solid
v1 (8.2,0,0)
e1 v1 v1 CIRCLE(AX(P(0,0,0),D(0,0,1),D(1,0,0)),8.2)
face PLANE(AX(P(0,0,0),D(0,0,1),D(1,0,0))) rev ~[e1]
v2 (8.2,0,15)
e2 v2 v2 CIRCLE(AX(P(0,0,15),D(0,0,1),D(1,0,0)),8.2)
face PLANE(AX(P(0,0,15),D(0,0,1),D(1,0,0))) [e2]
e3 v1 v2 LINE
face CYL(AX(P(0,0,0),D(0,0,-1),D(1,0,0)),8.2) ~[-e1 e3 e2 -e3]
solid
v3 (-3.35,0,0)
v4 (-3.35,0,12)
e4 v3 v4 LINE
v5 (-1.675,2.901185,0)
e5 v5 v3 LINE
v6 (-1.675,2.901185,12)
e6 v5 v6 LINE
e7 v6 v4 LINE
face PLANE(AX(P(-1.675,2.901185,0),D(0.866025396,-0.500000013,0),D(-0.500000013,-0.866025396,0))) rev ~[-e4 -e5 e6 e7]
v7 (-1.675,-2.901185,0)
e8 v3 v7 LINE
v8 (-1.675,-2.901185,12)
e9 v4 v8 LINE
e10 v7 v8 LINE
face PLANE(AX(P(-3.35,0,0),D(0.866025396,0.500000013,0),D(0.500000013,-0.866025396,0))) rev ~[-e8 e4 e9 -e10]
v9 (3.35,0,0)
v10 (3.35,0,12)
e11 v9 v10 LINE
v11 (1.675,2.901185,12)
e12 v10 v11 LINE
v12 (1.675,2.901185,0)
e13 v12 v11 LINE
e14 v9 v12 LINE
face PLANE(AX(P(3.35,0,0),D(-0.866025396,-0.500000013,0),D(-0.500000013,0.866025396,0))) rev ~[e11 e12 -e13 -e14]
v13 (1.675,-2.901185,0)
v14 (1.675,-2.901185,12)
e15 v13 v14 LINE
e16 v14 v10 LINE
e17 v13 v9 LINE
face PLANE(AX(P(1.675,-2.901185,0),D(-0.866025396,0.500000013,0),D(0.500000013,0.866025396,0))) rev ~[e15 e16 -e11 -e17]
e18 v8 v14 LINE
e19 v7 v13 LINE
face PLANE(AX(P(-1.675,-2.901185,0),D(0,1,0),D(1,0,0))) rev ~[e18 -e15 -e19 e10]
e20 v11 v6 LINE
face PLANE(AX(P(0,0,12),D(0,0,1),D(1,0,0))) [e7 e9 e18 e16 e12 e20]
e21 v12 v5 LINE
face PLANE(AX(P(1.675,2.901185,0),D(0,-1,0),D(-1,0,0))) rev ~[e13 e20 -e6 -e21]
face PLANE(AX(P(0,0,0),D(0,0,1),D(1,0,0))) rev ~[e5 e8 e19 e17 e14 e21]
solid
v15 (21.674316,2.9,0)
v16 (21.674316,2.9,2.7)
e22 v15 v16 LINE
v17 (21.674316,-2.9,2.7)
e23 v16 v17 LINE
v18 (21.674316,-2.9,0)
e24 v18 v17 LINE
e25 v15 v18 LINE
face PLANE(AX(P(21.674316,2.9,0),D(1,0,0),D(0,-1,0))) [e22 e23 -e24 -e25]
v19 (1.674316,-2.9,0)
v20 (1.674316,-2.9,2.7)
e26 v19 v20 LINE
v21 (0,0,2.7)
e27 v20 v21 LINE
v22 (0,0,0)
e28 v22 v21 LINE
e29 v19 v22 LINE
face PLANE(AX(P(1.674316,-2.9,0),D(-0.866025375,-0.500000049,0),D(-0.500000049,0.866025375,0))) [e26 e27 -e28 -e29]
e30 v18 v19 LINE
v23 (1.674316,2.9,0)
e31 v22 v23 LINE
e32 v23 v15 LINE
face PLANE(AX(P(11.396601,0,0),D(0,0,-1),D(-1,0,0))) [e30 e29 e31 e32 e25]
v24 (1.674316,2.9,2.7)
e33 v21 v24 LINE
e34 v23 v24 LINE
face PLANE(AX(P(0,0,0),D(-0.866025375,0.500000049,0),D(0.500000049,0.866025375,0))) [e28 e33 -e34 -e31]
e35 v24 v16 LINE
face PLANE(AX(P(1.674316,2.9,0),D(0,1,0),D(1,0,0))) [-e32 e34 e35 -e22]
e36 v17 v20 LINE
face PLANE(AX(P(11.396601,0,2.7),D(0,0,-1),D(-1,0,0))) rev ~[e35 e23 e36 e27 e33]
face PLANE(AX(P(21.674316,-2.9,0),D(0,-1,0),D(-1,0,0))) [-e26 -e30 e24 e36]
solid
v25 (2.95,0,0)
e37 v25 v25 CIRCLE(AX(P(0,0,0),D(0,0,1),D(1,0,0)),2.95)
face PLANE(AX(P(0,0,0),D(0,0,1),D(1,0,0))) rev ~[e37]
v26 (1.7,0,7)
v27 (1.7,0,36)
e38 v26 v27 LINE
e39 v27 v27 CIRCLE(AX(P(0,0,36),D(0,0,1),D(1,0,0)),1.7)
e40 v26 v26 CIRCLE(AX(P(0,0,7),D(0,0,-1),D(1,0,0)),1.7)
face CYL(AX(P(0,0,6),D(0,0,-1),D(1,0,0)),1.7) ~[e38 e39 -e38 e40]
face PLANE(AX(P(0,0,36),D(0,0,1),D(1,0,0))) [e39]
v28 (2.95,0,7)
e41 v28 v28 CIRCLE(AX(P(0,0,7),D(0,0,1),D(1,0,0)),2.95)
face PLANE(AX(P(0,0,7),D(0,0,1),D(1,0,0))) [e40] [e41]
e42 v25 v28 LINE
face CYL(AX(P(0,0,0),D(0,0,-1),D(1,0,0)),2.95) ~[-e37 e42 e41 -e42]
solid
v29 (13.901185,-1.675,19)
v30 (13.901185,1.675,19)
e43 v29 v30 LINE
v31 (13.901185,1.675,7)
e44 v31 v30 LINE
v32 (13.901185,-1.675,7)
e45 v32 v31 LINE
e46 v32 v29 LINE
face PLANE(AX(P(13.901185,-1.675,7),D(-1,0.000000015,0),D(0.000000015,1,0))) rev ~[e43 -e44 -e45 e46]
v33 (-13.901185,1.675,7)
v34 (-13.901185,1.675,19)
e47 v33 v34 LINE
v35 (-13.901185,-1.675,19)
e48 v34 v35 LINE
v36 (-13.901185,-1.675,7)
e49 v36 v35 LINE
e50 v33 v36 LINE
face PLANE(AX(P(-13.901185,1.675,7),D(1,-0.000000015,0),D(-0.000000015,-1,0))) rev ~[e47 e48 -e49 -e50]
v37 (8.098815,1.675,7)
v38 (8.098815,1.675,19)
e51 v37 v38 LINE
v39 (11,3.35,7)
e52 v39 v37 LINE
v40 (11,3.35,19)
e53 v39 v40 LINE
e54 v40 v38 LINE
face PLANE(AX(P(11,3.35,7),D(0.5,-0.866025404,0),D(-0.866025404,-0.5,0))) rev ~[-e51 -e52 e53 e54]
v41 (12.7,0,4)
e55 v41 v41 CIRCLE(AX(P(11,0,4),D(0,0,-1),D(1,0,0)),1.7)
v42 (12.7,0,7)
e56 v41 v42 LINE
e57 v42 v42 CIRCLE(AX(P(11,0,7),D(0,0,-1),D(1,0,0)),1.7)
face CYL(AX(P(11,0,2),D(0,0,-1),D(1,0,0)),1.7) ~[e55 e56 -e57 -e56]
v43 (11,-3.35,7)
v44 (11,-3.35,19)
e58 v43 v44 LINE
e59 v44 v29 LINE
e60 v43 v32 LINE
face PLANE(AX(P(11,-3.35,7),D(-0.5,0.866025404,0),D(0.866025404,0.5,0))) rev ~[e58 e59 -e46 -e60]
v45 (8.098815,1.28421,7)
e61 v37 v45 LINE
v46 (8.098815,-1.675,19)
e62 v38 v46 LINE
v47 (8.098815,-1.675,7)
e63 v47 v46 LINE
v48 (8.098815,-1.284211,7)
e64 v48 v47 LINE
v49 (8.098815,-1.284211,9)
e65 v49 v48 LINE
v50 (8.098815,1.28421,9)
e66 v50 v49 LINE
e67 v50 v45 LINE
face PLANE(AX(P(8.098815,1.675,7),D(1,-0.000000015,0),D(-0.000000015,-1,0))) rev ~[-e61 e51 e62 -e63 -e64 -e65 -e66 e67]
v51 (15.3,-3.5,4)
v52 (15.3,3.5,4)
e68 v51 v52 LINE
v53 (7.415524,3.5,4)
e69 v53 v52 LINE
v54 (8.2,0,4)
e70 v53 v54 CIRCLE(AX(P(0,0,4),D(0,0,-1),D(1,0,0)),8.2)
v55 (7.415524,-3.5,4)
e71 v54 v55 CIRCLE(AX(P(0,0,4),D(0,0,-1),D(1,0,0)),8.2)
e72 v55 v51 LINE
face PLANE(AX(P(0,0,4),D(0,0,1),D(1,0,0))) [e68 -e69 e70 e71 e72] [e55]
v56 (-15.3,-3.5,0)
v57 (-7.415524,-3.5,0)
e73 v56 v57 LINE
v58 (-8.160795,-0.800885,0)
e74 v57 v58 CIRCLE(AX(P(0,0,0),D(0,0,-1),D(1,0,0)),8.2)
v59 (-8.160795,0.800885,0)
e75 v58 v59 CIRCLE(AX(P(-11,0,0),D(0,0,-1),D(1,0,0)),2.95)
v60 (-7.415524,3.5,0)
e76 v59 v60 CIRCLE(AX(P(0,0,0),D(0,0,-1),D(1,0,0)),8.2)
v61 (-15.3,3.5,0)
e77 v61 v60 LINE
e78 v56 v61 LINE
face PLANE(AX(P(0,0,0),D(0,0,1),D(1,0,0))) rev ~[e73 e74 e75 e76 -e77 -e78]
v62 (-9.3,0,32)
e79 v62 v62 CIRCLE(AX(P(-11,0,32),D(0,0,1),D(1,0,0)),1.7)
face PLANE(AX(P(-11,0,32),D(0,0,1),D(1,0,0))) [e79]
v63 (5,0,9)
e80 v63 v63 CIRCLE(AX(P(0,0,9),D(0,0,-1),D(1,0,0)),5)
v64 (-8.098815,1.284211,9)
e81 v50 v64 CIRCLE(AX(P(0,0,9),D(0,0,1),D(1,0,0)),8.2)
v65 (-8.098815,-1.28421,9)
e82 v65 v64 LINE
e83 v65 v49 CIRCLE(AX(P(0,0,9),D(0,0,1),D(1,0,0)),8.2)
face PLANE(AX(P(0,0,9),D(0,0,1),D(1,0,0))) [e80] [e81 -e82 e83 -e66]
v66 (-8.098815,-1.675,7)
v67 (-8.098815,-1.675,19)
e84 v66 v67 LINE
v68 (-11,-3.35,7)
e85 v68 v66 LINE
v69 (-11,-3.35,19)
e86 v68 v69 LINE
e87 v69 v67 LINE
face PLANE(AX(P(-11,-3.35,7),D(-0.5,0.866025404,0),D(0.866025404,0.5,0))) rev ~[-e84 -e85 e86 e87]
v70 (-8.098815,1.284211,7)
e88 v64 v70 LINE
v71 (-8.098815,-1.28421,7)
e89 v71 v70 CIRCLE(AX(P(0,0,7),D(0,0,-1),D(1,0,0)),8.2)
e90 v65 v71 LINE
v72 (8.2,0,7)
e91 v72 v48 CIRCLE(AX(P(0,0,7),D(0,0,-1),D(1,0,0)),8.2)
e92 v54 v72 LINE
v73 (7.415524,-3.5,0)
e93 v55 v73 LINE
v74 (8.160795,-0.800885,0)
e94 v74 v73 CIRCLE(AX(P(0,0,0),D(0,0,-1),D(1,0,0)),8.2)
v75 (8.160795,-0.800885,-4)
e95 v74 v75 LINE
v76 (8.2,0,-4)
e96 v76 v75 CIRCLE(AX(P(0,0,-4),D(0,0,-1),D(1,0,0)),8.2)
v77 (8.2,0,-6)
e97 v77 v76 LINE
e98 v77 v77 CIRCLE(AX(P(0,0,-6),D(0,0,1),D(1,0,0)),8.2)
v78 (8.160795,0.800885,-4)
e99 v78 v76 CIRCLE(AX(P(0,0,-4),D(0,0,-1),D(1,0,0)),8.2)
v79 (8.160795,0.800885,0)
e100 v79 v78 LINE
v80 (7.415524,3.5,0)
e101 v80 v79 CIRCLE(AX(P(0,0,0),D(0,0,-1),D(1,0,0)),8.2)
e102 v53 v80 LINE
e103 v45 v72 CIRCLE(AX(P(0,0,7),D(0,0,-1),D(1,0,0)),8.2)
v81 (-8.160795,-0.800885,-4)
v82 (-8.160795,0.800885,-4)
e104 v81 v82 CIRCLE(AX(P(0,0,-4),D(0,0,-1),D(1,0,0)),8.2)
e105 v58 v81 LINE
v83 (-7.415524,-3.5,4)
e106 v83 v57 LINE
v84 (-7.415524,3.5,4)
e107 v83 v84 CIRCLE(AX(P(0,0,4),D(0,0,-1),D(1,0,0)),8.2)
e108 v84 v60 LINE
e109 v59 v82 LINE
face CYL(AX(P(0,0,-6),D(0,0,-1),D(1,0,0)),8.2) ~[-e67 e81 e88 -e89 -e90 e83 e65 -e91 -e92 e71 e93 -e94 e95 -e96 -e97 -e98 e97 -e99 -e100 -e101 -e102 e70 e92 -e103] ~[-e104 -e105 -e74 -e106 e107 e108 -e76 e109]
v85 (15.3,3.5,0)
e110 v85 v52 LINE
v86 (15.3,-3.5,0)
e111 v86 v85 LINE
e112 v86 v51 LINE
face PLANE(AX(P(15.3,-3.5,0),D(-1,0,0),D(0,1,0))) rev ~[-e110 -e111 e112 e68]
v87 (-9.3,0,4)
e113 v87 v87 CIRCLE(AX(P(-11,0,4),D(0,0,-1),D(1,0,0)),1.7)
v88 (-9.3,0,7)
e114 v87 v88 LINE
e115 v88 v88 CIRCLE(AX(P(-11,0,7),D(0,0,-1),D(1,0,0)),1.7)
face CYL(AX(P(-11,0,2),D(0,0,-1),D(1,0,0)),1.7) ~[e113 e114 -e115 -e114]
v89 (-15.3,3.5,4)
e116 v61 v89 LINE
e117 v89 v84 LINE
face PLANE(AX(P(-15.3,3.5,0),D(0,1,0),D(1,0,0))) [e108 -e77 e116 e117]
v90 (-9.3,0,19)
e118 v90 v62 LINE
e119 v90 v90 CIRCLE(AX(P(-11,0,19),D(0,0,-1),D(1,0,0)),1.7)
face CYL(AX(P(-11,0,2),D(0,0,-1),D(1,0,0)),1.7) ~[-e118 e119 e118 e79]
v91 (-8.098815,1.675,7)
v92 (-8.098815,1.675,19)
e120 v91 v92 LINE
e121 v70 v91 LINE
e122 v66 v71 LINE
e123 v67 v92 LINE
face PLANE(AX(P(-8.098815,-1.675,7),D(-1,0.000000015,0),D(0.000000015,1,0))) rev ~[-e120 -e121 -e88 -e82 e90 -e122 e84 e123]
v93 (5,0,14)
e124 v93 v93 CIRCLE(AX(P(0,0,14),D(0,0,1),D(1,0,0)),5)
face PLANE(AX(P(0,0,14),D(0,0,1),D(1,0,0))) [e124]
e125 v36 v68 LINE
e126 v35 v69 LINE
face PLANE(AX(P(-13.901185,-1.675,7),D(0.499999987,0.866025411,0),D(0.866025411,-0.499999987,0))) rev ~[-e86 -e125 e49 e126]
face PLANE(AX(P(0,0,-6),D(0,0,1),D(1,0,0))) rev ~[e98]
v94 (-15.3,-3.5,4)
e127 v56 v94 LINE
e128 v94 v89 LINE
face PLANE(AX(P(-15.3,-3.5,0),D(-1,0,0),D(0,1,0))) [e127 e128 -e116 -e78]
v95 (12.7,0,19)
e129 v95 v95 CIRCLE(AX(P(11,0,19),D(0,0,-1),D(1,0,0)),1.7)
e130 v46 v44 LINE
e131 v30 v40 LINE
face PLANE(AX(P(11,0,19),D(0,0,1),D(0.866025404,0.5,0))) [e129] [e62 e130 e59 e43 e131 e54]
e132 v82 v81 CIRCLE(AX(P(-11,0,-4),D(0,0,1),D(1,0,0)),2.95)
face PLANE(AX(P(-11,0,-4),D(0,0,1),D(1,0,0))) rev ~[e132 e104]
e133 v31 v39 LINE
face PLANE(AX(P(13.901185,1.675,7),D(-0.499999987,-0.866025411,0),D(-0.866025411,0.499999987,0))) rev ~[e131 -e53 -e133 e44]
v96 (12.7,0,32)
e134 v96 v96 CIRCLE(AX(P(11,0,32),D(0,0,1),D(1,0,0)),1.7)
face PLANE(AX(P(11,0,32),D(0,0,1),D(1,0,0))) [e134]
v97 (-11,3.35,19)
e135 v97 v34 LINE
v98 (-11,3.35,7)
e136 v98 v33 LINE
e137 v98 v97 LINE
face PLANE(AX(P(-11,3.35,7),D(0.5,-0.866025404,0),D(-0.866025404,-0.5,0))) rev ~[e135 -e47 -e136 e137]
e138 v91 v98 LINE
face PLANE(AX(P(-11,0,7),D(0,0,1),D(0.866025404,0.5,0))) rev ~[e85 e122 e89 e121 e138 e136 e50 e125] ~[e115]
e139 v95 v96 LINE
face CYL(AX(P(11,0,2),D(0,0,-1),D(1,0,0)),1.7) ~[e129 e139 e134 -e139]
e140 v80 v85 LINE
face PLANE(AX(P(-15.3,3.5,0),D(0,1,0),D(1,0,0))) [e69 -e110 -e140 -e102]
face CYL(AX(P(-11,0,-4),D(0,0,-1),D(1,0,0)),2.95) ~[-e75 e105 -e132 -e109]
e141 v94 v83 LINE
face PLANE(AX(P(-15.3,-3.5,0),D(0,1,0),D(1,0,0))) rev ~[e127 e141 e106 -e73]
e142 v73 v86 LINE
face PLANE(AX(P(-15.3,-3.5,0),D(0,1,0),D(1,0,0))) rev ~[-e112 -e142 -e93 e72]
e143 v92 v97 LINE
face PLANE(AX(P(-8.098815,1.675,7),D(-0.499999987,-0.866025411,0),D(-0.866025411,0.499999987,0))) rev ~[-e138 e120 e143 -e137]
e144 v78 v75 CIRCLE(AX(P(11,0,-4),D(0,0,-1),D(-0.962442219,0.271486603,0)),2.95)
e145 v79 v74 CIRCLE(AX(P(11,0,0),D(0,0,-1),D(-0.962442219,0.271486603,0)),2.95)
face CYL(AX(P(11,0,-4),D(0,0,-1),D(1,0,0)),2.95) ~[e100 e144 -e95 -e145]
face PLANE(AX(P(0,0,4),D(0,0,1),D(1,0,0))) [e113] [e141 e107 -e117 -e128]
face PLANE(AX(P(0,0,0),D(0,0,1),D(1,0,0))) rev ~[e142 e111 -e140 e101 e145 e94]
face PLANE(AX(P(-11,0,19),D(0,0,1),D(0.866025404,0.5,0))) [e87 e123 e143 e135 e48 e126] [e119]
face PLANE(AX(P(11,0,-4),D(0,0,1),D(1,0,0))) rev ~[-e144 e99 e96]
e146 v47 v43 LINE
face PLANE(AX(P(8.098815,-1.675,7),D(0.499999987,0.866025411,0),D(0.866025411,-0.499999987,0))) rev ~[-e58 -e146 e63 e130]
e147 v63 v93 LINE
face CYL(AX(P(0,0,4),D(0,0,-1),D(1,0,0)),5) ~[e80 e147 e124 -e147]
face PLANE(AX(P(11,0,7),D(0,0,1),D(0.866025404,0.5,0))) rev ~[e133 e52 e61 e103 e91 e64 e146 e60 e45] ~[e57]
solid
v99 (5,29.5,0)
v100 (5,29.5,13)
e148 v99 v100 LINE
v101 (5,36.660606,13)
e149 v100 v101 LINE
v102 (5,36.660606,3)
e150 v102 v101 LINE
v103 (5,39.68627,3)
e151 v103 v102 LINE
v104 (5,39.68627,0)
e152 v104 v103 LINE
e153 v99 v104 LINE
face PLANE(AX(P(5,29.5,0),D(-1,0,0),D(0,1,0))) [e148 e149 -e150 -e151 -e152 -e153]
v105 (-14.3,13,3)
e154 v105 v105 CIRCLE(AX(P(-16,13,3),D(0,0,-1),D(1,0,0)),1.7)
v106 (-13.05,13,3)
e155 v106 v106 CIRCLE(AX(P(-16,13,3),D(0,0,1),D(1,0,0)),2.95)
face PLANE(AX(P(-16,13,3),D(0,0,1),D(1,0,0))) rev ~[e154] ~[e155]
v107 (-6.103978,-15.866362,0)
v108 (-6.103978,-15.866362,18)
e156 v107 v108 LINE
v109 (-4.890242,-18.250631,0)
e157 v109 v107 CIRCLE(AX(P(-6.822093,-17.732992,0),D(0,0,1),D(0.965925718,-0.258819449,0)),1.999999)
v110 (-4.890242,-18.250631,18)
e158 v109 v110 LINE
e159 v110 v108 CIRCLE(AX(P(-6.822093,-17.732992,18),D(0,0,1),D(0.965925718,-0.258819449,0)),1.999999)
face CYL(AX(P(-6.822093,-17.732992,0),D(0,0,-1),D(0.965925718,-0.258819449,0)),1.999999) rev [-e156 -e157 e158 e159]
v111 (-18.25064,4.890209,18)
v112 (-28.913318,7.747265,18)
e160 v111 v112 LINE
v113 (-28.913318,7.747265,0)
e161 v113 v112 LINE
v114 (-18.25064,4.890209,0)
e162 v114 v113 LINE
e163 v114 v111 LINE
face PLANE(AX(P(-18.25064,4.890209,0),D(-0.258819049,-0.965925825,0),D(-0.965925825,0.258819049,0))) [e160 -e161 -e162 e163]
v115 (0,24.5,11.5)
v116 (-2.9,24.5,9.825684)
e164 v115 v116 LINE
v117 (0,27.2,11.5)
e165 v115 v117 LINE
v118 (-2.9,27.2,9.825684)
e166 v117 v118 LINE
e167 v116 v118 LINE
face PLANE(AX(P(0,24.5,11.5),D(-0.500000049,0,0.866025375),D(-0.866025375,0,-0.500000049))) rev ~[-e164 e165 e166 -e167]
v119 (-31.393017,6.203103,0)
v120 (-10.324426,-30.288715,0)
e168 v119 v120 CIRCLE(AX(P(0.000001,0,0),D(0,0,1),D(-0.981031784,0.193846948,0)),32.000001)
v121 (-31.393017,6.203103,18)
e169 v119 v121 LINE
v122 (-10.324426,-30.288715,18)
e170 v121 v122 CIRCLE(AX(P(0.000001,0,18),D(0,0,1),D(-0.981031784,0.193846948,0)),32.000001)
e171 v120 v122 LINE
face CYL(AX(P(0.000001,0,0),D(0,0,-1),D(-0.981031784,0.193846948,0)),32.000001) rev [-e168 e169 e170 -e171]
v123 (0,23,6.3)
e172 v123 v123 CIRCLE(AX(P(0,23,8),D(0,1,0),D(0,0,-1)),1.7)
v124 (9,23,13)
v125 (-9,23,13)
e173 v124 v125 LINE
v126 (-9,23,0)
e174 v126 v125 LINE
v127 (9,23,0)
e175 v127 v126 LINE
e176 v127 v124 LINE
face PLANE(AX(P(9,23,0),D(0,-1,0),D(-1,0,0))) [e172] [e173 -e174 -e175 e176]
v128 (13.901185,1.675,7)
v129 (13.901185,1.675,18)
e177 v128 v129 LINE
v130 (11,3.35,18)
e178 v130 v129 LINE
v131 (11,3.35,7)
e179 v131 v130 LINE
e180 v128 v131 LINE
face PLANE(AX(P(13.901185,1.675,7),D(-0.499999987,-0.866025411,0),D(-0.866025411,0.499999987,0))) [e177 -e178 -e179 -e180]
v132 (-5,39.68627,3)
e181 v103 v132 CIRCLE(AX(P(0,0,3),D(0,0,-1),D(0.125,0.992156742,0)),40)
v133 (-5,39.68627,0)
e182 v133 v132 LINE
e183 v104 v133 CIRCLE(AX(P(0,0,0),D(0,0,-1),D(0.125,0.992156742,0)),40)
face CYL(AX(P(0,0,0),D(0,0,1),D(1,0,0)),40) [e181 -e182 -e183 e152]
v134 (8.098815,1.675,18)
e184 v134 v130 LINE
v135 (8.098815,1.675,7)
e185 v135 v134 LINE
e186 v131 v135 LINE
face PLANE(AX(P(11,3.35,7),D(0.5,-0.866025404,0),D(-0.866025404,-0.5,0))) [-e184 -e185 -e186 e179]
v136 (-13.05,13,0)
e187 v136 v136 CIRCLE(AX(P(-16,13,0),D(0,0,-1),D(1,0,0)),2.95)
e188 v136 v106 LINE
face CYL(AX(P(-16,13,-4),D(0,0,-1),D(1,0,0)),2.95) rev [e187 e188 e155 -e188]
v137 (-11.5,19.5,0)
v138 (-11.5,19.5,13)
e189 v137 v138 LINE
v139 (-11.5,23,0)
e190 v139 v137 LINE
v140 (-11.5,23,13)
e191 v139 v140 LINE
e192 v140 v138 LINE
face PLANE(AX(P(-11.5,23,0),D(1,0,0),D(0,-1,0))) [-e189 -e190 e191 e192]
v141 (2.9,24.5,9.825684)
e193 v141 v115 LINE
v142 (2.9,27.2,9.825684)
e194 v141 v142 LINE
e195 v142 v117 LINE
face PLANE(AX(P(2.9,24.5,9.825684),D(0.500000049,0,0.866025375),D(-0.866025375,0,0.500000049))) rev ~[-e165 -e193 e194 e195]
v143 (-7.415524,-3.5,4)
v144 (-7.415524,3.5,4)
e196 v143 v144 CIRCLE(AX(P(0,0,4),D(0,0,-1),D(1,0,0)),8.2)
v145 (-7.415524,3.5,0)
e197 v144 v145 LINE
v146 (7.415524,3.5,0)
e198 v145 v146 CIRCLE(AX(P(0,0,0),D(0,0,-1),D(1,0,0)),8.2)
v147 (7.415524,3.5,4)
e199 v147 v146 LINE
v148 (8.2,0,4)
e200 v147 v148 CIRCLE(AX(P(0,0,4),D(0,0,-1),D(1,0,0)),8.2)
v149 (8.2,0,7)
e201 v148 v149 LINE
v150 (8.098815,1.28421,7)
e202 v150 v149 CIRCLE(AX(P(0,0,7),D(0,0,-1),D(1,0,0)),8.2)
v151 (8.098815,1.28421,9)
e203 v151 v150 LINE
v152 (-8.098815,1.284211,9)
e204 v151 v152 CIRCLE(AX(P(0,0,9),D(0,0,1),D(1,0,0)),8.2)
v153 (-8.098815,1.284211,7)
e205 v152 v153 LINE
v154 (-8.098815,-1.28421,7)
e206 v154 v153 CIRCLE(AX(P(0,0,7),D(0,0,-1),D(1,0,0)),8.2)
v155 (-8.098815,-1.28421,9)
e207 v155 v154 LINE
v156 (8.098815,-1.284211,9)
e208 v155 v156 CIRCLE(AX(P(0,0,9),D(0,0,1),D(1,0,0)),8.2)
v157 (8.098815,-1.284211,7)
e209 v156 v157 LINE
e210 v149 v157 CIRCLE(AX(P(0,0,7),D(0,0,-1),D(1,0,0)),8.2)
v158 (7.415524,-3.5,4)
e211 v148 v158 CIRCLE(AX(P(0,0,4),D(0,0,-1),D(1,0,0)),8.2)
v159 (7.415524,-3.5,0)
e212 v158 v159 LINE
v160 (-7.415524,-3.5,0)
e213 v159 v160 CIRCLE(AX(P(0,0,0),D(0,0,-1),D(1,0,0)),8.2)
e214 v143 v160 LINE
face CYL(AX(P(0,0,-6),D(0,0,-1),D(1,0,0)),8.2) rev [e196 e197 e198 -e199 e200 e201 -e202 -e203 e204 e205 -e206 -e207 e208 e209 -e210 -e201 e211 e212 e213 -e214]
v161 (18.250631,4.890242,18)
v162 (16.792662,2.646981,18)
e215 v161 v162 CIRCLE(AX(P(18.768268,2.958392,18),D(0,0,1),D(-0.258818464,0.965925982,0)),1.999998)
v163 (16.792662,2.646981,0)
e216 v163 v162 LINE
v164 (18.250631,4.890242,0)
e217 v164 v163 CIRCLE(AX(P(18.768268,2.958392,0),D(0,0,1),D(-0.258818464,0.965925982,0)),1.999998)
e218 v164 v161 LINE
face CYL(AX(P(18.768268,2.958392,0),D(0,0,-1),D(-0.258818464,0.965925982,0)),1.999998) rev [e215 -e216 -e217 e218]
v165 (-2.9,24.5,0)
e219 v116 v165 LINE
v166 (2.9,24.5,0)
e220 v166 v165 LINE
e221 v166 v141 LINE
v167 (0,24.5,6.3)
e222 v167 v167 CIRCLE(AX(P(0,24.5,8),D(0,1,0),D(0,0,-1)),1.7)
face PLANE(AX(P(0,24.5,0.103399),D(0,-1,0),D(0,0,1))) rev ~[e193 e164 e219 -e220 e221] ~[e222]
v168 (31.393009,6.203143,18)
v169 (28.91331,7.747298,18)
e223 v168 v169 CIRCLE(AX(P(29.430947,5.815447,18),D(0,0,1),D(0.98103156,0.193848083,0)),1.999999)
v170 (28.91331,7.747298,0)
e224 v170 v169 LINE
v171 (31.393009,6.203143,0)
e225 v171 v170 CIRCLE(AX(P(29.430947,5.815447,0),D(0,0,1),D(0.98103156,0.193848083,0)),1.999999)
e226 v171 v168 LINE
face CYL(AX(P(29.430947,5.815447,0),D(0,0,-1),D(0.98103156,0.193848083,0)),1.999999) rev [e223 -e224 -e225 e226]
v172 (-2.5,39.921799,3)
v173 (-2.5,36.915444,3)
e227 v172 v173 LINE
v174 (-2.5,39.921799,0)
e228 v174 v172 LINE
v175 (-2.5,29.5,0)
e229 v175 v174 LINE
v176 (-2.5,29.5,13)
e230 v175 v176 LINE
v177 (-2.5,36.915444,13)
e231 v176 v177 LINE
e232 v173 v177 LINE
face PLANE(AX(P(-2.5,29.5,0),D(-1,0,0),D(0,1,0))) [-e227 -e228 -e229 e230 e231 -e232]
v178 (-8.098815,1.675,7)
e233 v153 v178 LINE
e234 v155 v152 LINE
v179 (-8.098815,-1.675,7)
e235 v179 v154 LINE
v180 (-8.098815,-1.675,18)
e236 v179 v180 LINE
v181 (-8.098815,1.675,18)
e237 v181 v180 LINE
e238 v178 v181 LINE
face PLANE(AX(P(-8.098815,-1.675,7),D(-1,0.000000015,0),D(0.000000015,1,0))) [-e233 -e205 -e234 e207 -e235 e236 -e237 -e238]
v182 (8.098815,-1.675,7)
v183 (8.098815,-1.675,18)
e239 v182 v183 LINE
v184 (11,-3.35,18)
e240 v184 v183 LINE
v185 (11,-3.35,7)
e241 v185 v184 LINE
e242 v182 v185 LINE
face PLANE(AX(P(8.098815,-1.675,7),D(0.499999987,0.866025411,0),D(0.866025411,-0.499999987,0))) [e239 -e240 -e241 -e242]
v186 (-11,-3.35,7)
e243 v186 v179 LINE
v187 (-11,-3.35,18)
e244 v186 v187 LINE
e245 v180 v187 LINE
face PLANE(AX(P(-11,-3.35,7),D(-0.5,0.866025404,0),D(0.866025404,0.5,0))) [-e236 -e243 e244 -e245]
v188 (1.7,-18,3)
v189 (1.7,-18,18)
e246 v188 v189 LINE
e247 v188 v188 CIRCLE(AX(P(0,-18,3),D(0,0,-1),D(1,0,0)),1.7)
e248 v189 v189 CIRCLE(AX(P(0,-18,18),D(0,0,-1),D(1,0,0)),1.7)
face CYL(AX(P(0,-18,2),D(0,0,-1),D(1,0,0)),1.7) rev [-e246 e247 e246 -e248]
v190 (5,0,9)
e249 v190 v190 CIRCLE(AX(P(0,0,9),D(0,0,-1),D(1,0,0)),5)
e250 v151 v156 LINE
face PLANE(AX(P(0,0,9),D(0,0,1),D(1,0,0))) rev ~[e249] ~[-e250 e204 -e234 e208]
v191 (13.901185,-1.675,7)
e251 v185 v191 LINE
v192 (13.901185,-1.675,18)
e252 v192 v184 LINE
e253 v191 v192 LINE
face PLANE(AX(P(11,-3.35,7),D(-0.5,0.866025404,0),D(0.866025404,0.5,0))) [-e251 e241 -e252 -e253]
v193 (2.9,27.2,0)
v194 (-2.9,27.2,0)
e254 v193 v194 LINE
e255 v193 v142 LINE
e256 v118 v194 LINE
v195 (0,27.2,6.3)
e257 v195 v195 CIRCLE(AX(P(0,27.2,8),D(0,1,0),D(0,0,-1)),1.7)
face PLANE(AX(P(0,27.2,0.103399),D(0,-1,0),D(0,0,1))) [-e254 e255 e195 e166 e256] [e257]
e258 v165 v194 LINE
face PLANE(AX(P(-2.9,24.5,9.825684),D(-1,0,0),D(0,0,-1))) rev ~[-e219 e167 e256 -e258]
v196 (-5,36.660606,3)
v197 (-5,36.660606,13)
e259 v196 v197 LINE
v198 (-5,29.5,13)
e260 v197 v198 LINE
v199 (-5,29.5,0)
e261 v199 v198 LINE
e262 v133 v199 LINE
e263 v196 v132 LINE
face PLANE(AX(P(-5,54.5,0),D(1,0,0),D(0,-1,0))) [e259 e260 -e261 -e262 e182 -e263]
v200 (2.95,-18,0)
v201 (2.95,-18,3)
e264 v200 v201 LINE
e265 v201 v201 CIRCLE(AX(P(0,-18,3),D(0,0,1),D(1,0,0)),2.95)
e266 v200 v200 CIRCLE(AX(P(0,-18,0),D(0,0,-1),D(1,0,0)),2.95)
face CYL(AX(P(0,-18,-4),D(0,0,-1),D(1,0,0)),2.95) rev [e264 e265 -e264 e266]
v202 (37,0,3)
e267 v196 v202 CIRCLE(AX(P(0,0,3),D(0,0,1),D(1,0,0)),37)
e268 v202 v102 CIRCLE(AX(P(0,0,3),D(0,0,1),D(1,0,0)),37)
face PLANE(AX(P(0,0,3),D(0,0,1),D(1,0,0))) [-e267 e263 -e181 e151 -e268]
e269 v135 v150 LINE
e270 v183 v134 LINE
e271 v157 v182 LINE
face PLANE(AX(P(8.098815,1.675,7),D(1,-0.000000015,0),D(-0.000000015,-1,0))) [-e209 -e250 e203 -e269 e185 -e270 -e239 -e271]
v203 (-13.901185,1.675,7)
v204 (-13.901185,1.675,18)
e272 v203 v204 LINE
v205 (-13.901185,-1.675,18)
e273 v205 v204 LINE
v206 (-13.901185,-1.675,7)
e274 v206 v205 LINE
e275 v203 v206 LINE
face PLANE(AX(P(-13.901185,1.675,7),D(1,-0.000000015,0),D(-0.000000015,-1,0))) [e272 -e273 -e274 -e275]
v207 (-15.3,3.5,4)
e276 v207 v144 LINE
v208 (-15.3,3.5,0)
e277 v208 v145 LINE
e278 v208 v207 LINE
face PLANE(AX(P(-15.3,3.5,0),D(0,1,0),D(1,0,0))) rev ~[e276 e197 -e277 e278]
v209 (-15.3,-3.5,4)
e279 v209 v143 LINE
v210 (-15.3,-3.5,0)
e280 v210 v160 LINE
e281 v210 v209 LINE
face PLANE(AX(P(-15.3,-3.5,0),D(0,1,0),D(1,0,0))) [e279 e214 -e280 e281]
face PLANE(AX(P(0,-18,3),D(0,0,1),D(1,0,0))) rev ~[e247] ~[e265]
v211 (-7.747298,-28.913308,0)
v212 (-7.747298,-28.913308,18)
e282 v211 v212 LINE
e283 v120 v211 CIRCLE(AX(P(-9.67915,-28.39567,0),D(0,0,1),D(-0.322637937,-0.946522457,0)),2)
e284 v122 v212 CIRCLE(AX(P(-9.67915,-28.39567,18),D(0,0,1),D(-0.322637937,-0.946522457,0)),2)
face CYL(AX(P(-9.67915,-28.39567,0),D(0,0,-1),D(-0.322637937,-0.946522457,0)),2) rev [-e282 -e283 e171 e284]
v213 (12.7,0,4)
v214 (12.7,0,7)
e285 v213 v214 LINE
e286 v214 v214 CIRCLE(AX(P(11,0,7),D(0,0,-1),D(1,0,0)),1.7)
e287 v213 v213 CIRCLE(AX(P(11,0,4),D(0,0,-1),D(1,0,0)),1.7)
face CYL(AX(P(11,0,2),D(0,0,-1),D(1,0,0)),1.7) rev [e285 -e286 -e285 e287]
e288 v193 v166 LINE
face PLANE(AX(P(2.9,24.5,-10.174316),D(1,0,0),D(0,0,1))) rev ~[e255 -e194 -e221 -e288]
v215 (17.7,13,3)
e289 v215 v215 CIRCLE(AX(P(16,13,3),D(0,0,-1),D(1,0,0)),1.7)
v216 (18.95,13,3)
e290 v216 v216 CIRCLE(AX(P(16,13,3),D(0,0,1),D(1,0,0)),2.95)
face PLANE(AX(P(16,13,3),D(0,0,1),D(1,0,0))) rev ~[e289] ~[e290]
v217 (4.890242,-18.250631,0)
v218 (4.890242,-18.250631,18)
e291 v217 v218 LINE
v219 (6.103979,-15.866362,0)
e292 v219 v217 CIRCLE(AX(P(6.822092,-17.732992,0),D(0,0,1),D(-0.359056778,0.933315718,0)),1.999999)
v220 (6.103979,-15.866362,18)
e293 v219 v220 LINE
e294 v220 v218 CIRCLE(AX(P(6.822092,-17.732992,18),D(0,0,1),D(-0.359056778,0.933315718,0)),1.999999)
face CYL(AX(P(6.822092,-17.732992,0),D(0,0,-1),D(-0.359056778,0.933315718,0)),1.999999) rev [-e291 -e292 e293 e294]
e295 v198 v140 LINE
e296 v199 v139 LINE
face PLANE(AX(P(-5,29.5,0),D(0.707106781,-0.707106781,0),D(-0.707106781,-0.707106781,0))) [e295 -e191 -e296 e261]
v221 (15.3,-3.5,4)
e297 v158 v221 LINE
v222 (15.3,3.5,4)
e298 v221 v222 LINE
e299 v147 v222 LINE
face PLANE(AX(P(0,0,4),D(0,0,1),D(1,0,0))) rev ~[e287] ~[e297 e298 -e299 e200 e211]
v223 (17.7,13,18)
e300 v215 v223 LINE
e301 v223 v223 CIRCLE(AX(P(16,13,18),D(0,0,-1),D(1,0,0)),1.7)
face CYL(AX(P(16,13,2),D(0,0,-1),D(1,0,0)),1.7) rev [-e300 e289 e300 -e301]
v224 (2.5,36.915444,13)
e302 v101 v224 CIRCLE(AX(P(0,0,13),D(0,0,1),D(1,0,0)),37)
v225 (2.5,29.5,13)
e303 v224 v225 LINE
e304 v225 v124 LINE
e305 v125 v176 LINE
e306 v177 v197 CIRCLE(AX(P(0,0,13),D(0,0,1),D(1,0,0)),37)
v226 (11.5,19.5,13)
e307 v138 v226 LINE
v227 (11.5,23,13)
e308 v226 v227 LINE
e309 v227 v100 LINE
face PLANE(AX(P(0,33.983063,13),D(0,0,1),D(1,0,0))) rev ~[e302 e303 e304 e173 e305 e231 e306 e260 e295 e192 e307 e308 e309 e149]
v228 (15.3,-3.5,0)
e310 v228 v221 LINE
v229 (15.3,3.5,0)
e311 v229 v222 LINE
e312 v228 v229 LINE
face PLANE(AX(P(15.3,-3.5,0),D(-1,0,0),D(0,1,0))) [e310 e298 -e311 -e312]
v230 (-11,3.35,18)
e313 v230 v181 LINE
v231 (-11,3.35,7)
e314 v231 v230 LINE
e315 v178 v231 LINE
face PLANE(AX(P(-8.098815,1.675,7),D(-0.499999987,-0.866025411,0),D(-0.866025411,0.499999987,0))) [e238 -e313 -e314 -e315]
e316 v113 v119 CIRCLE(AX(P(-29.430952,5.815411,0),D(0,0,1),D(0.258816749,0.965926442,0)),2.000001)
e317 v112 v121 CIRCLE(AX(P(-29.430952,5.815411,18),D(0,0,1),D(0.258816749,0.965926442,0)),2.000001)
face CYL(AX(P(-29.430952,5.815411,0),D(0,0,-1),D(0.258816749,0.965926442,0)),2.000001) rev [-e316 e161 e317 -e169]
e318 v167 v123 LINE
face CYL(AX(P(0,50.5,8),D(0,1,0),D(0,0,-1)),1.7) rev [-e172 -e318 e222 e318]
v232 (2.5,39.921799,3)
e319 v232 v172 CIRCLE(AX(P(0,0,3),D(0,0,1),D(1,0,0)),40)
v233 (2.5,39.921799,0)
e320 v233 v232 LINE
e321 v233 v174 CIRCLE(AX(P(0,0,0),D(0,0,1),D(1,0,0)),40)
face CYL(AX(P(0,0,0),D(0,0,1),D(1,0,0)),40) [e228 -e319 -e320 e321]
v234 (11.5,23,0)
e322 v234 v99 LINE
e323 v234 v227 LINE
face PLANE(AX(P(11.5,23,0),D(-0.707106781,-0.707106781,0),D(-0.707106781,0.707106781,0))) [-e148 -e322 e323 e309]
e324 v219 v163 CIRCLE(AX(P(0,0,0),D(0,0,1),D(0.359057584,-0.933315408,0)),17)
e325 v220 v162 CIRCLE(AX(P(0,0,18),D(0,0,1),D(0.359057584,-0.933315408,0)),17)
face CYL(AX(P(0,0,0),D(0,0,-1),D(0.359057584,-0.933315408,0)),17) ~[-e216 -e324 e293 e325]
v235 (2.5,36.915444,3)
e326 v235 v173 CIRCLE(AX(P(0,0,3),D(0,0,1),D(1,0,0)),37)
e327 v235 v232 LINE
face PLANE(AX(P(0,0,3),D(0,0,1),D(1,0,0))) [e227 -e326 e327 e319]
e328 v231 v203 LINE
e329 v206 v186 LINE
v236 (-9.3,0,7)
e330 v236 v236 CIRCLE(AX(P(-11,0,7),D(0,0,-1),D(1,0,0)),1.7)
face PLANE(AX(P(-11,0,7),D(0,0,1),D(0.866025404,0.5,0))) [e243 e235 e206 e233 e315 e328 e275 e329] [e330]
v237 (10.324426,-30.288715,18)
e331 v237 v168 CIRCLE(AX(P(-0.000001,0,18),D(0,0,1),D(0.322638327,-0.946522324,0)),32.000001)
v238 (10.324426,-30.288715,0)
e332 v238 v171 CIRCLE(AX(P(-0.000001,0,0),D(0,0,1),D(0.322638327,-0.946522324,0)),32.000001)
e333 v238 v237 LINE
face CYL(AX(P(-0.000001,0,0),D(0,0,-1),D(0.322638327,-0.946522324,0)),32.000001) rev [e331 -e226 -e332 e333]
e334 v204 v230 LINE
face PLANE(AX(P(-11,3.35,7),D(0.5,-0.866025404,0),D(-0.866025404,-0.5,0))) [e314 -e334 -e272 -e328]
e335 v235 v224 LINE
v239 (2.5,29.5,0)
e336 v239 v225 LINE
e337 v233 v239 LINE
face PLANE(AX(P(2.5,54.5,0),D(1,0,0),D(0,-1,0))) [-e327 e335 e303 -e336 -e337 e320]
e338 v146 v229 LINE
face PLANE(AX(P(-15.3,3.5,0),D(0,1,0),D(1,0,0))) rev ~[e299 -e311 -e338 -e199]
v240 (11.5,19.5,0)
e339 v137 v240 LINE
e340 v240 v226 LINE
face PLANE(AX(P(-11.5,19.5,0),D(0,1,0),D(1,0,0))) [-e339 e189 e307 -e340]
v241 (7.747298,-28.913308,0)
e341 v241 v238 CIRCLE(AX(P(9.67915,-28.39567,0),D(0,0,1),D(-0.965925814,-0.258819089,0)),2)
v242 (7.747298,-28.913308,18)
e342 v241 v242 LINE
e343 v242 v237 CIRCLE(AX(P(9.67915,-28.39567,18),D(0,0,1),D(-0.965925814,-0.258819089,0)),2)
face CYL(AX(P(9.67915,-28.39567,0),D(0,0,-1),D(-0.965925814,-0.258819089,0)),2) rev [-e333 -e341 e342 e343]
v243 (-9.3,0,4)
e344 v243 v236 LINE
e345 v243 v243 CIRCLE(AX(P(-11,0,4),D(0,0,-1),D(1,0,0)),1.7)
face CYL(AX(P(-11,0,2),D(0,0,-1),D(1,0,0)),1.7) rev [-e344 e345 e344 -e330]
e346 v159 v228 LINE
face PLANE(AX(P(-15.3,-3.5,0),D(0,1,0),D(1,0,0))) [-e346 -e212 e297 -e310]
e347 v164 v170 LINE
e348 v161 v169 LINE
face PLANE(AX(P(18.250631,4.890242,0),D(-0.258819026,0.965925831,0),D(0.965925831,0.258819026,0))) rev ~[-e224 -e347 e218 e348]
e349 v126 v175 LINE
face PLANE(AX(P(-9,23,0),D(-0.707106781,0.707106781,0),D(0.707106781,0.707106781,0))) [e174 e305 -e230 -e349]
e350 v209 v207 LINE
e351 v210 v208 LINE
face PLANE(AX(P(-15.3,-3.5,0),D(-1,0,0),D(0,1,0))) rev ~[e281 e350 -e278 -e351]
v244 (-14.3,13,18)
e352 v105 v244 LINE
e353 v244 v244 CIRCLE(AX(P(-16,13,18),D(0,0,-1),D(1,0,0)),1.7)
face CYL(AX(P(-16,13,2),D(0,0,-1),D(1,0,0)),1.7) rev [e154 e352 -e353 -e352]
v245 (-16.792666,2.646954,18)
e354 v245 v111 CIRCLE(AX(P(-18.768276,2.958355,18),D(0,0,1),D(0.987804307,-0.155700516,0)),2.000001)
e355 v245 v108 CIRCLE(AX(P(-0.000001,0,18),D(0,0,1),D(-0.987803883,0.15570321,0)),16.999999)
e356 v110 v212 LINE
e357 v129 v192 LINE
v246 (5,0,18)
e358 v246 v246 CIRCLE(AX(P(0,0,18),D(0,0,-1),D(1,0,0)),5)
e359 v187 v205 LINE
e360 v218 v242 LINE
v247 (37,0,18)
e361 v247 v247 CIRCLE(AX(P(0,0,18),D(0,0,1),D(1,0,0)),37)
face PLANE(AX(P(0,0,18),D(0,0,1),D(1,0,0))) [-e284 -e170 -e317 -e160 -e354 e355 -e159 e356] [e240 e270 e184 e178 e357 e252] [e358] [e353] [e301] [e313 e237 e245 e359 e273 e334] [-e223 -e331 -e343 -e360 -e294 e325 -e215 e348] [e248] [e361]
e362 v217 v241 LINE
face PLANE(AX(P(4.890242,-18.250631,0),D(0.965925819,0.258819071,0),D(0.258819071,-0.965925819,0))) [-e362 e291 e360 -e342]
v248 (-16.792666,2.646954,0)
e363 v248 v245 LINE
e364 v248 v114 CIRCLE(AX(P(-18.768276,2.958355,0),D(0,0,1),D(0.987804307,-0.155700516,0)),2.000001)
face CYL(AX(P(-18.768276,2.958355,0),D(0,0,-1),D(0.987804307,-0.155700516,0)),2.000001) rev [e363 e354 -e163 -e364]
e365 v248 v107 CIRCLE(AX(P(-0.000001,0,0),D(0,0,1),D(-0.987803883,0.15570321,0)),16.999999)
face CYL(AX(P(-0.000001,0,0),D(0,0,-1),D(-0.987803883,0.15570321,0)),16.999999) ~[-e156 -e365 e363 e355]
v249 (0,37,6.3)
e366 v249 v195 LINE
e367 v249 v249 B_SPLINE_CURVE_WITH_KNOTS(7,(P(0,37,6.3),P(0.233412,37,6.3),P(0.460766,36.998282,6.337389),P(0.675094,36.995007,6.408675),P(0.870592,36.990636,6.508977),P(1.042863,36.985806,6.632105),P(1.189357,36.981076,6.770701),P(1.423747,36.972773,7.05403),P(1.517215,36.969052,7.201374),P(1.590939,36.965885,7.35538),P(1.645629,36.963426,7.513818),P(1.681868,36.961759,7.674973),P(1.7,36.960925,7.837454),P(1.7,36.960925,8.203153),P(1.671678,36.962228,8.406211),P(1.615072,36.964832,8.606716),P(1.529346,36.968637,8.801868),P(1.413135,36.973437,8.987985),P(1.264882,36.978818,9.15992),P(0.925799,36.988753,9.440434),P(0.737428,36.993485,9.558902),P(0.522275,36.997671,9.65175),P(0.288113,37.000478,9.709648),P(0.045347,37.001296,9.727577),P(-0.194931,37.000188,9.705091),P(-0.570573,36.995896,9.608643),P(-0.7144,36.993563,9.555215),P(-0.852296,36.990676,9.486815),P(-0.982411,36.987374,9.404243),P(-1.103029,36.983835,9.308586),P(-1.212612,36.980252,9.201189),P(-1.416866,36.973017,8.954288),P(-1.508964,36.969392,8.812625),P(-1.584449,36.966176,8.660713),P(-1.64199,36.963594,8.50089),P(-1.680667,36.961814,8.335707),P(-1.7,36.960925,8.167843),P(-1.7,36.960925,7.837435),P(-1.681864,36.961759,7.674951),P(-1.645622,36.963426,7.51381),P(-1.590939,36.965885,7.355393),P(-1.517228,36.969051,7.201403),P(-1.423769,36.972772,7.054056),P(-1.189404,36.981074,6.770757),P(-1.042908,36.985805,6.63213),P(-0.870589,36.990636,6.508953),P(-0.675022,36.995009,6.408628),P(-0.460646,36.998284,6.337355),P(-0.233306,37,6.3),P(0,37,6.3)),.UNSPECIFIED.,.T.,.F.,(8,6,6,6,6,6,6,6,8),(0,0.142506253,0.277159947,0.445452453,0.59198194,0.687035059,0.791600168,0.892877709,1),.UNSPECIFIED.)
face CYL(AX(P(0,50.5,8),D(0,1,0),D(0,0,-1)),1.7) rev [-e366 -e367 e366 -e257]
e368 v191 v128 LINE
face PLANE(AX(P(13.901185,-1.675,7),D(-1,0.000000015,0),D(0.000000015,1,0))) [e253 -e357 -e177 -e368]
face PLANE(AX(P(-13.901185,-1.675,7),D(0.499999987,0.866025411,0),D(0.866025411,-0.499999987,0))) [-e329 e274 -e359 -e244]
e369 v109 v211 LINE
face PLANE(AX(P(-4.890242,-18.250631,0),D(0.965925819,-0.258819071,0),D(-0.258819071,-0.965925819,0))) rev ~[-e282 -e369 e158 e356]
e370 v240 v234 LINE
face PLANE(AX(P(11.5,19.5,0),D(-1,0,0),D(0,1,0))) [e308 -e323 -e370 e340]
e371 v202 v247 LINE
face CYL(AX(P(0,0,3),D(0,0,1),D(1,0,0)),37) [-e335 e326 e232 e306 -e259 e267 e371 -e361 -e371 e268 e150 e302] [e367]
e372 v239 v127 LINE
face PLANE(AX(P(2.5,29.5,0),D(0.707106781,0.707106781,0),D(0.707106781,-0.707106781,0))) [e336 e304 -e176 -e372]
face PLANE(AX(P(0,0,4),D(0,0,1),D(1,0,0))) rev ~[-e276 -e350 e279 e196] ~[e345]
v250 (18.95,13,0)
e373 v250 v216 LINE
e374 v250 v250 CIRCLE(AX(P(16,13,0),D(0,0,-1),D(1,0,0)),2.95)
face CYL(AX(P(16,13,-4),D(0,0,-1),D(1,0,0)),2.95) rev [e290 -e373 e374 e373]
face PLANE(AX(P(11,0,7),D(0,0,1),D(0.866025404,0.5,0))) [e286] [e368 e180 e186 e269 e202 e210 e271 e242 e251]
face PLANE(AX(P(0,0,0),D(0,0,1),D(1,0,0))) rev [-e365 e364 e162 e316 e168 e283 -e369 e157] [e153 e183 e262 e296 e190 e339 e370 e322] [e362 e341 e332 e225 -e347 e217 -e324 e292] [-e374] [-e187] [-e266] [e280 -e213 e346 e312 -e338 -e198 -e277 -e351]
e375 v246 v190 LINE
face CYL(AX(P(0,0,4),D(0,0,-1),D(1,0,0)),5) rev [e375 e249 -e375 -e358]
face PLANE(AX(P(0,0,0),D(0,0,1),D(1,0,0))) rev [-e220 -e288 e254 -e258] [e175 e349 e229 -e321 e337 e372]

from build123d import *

# Parameters (mm, degrees)
CYLINDER_R               = 2.95
CYLINDER_DEPTH           = 7
CYLINDER001_R            = 1.7
CYLINDER001_DEPTH        = 30
PAD002_DEPTH             = 2.7
PRISM_DEPTH              = 12
CYLINDER1003_R           = 8.2
CYLINDER1003_DEPTH       = 15
CLONE139_PLACEMENT_ANGLE = 30
BOX251_W                 = 30.6
BOX251_H                 = 7
BOX251_DEPTH             = 4
CYLINDER1015_R           = 5
CYLINDER1015_DEPTH       = 10
CLONE140_PLACEMENT_ANGLE = 30
PAD032_DEPTH             = 18
CYLINDER1020_R           = 5
CYLINDER1020_DEPTH       = 10
CLONE220_PITCH_ANGLE     = 90
CLONE220_PLACEMENT_ANGLE = 90
PAD031_DEPTH             = 13
CLONE219_PITCH_ANGLE     = 90
CLONE219_PLACEMENT_ANGLE = -90


with BuildPart() as m3bolthead:
    # Cylinder → Cylinder (new body)
    with BuildSketch(Plane.XY):
        Circle(CYLINDER_R)
    extrude(amount=CYLINDER_DEPTH)


with BuildPart() as m3bolt:
    # Cylinder001 → Cylinder001 (new body)
    with BuildSketch(Plane.XY.offset(6)):
        Circle(CYLINDER001_R)
    extrude(amount=CYLINDER001_DEPTH)

    # Fusion: union M3BoltHead
    add(m3bolthead.part)


with BuildPart() as m3nuthousing:
    # Sketch003 → Pad002 (new body)
    with BuildSketch(Plane.XY):
        Polygon((0, 0), (1.674316, 2.9), (21.674316, 2.9), (21.674316, -2.9), (1.674316, -2.9), align=None)
    extrude(amount=PAD002_DEPTH)


with BuildPart() as m3nut:
    # Prism → Prism (new body)
    with BuildSketch(Plane.XY):
        Polygon((3.35, 0), (1.675, 2.901185), (-1.675, 2.901185), (-3.35, 0), (-1.675, -2.901185), (1.675, -2.901185), align=None)
    extrude(amount=PRISM_DEPTH)


with BuildPart() as bearing625zzmaster:
    # Cylinder1003 → Cylinder1003 (new body)
    with BuildSketch(Plane.XY):
        Circle(CYLINDER1003_R)
    extrude(amount=CYLINDER1003_DEPTH)


with BuildPart() as clone_of_m3nut005:
    # Clone139 base: copy of M3Nut
    add(m3nut.part)


with BuildPart() as clone_of_m3nut005_1:
    # Clone139 placement: moved
    add(clone_of_m3nut005.part.moved(Location((11, 0, 7))).rotate(Axis((11, 0, 7), (0, 0, 1)), CLONE139_PLACEMENT_ANGLE))


with BuildPart() as cube015:
    # Box251 → Box251 (new body)
    with BuildSketch(Plane(origin=(-15.3, -3.5, 0), x_dir=(1, 0, 0), z_dir=(0, 0, 1))):
        with Locations((15.3, 3.5)):
            Rectangle(BOX251_W, BOX251_H)
    extrude(amount=BOX251_DEPTH)


with BuildPart() as clone_of_m3bolt039:
    # Clone137 base: copy of M3Bolt
    add(m3bolt.part)


with BuildPart() as clone_of_m3bolt039_1:
    # Clone137 placement: moved
    add(clone_of_m3bolt039.part.moved(Location((11, 0, -4))))


with BuildPart() as clone_of_m3bolt040:
    # Clone138 base: copy of M3Bolt
    add(m3bolt.part)


with BuildPart() as clone_of_m3bolt040_1:
    # Clone138 placement: moved
    add(clone_of_m3bolt040.part.moved(Location((-11, 0, -4))))


with BuildPart() as cylinder021:
    # Cylinder1015 → Cylinder1015 (new body)
    with BuildSketch(Plane.XY.offset(4)):
        Circle(CYLINDER1015_R)
    extrude(amount=CYLINDER1015_DEPTH)


with BuildPart() as clone_of_bearing625zzmaster:
    # Clone136 base: copy of Bearing625ZZMaster
    add(bearing625zzmaster.part)


with BuildPart() as clone_of_bearing625zzmaster_1:
    # Clone136 placement: moved
    add(clone_of_bearing625zzmaster.part.moved(Location((0, 0, -6))))


with BuildPart() as bearing625zzholes:
    # Clone140 base: copy of M3Nut
    add(m3nut.part)


with BuildPart() as bearing625zzholes_1:
    # Clone140 placement: moved
    add(bearing625zzholes.part.moved(Location((-11, 0, 7))).rotate(Axis((-11, 0, 7), (0, 0, 1)), CLONE140_PLACEMENT_ANGLE))

    # Fusion062: union Clone of M3Nut005, Cube015, Clone of M3Bolt039, Clone of M3Bolt040, Cylinder021, Clone of Bearing625ZZMaster
    add(clone_of_m3nut005_1.part)
    add(cube015.part)
    add(clone_of_m3bolt039_1.part)
    add(clone_of_m3bolt040_1.part)
    add(cylinder021.part)
    add(clone_of_bearing625zzmaster_1.part)


with BuildPart() as clone_of_m3bolt134:
    # Clone449 base: copy of M3Bolt
    add(m3bolt.part)


with BuildPart() as clone_of_m3bolt134_1:
    # Clone449 placement: moved
    add(clone_of_m3bolt134.part.moved(Location((16, 13, -4))))


with BuildPart() as clone_of_m3bolt076:
    # Clone222 base: copy of M3Bolt
    add(m3bolt.part)


with BuildPart() as clone_of_m3bolt076_1:
    # Clone222 placement: moved
    add(clone_of_m3bolt076.part.moved(Location((0, -18, -4))))


with BuildPart() as pad032:
    # Sketch044 → Pad032 (new body)
    with BuildSketch(Plane.XY):
        with BuildLine():
            ThreePointArc((-31.393017, 6.203103), (-27.712803, -16.000017), (-10.324426, -30.288715))
            ThreePointArc((-10.324426, -30.288715), (-8.737473, -30.160109), (-7.747298, -28.913308))
            Line((-4.890242, -18.250631), (-7.747298, -28.913308))
            ThreePointArc((-4.890242, -18.250631), (-5.039745, -16.82567), (-6.103978, -15.866362))
            ThreePointArc((-16.792666, 2.646954), (-14.722425, -8.500012), (-6.103978, -15.866362))
            ThreePointArc((-16.792666, 2.646954), (-17.091339, 4.048258), (-18.25064, 4.890209))
            Line((-18.25064, 4.890209), (-28.913318, 7.747265))
            ThreePointArc((-28.913318, 7.747265), (-30.488167, 7.513145), (-31.393017, 6.203103))
        make_face()
        with BuildLine():
            Line((4.890242, -18.250631), (7.747298, -28.913308))
            ThreePointArc((7.747298, -28.913308), (8.737473, -30.160109), (10.324426, -30.288715))
            ThreePointArc((10.324426, -30.288715), (27.712813, -16), (31.393009, 6.203143))
            ThreePointArc((31.393009, 6.203143), (30.488158, 7.513181), (28.91331, 7.747298))
            Line((18.250631, 4.890242), (28.91331, 7.747298))
            ThreePointArc((18.250631, 4.890242), (17.09133, 4.048288), (16.792662, 2.646981))
            ThreePointArc((6.103979, -15.866362), (14.722432, -8.5), (16.792662, 2.646981))
            ThreePointArc((6.103979, -15.866362), (5.039745, -16.82567), (4.890242, -18.250631))
        make_face()
    extrude(amount=PAD032_DEPTH)


with BuildPart() as fusion171:
    # Clone450 base: copy of M3Bolt
    add(m3bolt.part)


with BuildPart() as fusion171_1:
    # Clone450 placement: moved
    add(fusion171.part.moved(Location((-16, 13, -4))))

    # Fusion171: union Clone of M3Bolt134, Clone of M3Bolt076, Pad032
    add(clone_of_m3bolt134_1.part)
    add(clone_of_m3bolt076_1.part)
    add(pad032.part)


with BuildPart() as clone_of_bearing622zzholes003:
    # Clone221 base: copy of Bearing625zzHoles
    add(bearing625zzholes_1.part)


with BuildPart() as fusion083:
    # Cylinder1020 → Cylinder1020 (new body)
    with BuildSketch(Plane.XY.offset(14)):
        Circle(CYLINDER1020_R)
    extrude(amount=CYLINDER1020_DEPTH)

    # Fusion083: union Clone of Bearing622zzHoles003
    add(clone_of_bearing622zzholes003.part)


with BuildPart() as clone_of_m3nuthousing021:
    # Clone220 base: copy of M3NutHousing
    add(m3nuthousing.part)


with BuildPart() as clone_of_m3nuthousing021_1:
    # Clone220 pitch: moved
    add(clone_of_m3nuthousing021.part.rotate(Axis((0, 0, 0), (0, 1, 0)), CLONE220_PITCH_ANGLE))


with BuildPart() as clone_of_m3nuthousing021_2:
    # Clone220 placement: moved
    add(clone_of_m3nuthousing021_1.part.moved(Location((0, 24.5, 11.5))).rotate(Axis((0, 24.5, 11.5), (0, 0, 1)), CLONE220_PLACEMENT_ANGLE))


with BuildPart() as pad031:
    # Sketch043 → Pad031 (new body)
    with BuildSketch(Plane(origin=(0, 19.5, 0), x_dir=(1, 0, 0), z_dir=(0, 0, 1))):
        Polygon((-11.5, 0), (11.5, 0), (11.5, 3.5), (5, 10), (5, 35), (2.5, 35), (2.5, 10), (9, 3.5), (-9, 3.5), (-2.5, 10), (-2.5, 35), (-5, 35), (-5, 10), (-11.5, 3.5), align=None)
    extrude(amount=PAD031_DEPTH)


with BuildPart() as fusion082:
    # Clone219 base: copy of M3Bolt
    add(m3bolt.part)


with BuildPart() as fusion082_1:
    # Clone219 pitch: moved
    add(fusion082.part.rotate(Axis((0, 0, 0), (0, 1, 0)), CLONE219_PITCH_ANGLE))


with BuildPart() as fusion082_2:
    # Clone219 placement: moved
    add(fusion082_1.part.moved(Location((0, 56.5, 8))).rotate(Axis((0, 56.5, 8), (0, 0, 1)), CLONE219_PLACEMENT_ANGLE))

    # Fusion082: union Clone of M3NutHousing021, Pad031
    add(clone_of_m3nuthousing021_2.part)
    add(pad031.part)


with BuildPart() as art3pulley:
    # Sketch042 → Revolution007 (revolve)
    with BuildSketch(Plane.XZ):
        Polygon((0, 0), (40, 0), (40, 3), (37, 3), (37, 18), (0, 18), align=None)
    revolve(axis=Axis((0, 0, 0), (0, 0, 1)))

    # Cut067: cut Fusion082
    add(fusion082_2.part, mode=Mode.SUBTRACT)

    # Cut068: cut Fusion083
    add(fusion083.part, mode=Mode.SUBTRACT)

    # Cut152: cut Fusion171
    add(fusion171_1.part, mode=Mode.SUBTRACT)


solid = Compound([m3bolt.part, m3nuthousing.part, m3nut.part, bearing625zzmaster.part, bearing625zzholes_1.part, art3pulley.part])
